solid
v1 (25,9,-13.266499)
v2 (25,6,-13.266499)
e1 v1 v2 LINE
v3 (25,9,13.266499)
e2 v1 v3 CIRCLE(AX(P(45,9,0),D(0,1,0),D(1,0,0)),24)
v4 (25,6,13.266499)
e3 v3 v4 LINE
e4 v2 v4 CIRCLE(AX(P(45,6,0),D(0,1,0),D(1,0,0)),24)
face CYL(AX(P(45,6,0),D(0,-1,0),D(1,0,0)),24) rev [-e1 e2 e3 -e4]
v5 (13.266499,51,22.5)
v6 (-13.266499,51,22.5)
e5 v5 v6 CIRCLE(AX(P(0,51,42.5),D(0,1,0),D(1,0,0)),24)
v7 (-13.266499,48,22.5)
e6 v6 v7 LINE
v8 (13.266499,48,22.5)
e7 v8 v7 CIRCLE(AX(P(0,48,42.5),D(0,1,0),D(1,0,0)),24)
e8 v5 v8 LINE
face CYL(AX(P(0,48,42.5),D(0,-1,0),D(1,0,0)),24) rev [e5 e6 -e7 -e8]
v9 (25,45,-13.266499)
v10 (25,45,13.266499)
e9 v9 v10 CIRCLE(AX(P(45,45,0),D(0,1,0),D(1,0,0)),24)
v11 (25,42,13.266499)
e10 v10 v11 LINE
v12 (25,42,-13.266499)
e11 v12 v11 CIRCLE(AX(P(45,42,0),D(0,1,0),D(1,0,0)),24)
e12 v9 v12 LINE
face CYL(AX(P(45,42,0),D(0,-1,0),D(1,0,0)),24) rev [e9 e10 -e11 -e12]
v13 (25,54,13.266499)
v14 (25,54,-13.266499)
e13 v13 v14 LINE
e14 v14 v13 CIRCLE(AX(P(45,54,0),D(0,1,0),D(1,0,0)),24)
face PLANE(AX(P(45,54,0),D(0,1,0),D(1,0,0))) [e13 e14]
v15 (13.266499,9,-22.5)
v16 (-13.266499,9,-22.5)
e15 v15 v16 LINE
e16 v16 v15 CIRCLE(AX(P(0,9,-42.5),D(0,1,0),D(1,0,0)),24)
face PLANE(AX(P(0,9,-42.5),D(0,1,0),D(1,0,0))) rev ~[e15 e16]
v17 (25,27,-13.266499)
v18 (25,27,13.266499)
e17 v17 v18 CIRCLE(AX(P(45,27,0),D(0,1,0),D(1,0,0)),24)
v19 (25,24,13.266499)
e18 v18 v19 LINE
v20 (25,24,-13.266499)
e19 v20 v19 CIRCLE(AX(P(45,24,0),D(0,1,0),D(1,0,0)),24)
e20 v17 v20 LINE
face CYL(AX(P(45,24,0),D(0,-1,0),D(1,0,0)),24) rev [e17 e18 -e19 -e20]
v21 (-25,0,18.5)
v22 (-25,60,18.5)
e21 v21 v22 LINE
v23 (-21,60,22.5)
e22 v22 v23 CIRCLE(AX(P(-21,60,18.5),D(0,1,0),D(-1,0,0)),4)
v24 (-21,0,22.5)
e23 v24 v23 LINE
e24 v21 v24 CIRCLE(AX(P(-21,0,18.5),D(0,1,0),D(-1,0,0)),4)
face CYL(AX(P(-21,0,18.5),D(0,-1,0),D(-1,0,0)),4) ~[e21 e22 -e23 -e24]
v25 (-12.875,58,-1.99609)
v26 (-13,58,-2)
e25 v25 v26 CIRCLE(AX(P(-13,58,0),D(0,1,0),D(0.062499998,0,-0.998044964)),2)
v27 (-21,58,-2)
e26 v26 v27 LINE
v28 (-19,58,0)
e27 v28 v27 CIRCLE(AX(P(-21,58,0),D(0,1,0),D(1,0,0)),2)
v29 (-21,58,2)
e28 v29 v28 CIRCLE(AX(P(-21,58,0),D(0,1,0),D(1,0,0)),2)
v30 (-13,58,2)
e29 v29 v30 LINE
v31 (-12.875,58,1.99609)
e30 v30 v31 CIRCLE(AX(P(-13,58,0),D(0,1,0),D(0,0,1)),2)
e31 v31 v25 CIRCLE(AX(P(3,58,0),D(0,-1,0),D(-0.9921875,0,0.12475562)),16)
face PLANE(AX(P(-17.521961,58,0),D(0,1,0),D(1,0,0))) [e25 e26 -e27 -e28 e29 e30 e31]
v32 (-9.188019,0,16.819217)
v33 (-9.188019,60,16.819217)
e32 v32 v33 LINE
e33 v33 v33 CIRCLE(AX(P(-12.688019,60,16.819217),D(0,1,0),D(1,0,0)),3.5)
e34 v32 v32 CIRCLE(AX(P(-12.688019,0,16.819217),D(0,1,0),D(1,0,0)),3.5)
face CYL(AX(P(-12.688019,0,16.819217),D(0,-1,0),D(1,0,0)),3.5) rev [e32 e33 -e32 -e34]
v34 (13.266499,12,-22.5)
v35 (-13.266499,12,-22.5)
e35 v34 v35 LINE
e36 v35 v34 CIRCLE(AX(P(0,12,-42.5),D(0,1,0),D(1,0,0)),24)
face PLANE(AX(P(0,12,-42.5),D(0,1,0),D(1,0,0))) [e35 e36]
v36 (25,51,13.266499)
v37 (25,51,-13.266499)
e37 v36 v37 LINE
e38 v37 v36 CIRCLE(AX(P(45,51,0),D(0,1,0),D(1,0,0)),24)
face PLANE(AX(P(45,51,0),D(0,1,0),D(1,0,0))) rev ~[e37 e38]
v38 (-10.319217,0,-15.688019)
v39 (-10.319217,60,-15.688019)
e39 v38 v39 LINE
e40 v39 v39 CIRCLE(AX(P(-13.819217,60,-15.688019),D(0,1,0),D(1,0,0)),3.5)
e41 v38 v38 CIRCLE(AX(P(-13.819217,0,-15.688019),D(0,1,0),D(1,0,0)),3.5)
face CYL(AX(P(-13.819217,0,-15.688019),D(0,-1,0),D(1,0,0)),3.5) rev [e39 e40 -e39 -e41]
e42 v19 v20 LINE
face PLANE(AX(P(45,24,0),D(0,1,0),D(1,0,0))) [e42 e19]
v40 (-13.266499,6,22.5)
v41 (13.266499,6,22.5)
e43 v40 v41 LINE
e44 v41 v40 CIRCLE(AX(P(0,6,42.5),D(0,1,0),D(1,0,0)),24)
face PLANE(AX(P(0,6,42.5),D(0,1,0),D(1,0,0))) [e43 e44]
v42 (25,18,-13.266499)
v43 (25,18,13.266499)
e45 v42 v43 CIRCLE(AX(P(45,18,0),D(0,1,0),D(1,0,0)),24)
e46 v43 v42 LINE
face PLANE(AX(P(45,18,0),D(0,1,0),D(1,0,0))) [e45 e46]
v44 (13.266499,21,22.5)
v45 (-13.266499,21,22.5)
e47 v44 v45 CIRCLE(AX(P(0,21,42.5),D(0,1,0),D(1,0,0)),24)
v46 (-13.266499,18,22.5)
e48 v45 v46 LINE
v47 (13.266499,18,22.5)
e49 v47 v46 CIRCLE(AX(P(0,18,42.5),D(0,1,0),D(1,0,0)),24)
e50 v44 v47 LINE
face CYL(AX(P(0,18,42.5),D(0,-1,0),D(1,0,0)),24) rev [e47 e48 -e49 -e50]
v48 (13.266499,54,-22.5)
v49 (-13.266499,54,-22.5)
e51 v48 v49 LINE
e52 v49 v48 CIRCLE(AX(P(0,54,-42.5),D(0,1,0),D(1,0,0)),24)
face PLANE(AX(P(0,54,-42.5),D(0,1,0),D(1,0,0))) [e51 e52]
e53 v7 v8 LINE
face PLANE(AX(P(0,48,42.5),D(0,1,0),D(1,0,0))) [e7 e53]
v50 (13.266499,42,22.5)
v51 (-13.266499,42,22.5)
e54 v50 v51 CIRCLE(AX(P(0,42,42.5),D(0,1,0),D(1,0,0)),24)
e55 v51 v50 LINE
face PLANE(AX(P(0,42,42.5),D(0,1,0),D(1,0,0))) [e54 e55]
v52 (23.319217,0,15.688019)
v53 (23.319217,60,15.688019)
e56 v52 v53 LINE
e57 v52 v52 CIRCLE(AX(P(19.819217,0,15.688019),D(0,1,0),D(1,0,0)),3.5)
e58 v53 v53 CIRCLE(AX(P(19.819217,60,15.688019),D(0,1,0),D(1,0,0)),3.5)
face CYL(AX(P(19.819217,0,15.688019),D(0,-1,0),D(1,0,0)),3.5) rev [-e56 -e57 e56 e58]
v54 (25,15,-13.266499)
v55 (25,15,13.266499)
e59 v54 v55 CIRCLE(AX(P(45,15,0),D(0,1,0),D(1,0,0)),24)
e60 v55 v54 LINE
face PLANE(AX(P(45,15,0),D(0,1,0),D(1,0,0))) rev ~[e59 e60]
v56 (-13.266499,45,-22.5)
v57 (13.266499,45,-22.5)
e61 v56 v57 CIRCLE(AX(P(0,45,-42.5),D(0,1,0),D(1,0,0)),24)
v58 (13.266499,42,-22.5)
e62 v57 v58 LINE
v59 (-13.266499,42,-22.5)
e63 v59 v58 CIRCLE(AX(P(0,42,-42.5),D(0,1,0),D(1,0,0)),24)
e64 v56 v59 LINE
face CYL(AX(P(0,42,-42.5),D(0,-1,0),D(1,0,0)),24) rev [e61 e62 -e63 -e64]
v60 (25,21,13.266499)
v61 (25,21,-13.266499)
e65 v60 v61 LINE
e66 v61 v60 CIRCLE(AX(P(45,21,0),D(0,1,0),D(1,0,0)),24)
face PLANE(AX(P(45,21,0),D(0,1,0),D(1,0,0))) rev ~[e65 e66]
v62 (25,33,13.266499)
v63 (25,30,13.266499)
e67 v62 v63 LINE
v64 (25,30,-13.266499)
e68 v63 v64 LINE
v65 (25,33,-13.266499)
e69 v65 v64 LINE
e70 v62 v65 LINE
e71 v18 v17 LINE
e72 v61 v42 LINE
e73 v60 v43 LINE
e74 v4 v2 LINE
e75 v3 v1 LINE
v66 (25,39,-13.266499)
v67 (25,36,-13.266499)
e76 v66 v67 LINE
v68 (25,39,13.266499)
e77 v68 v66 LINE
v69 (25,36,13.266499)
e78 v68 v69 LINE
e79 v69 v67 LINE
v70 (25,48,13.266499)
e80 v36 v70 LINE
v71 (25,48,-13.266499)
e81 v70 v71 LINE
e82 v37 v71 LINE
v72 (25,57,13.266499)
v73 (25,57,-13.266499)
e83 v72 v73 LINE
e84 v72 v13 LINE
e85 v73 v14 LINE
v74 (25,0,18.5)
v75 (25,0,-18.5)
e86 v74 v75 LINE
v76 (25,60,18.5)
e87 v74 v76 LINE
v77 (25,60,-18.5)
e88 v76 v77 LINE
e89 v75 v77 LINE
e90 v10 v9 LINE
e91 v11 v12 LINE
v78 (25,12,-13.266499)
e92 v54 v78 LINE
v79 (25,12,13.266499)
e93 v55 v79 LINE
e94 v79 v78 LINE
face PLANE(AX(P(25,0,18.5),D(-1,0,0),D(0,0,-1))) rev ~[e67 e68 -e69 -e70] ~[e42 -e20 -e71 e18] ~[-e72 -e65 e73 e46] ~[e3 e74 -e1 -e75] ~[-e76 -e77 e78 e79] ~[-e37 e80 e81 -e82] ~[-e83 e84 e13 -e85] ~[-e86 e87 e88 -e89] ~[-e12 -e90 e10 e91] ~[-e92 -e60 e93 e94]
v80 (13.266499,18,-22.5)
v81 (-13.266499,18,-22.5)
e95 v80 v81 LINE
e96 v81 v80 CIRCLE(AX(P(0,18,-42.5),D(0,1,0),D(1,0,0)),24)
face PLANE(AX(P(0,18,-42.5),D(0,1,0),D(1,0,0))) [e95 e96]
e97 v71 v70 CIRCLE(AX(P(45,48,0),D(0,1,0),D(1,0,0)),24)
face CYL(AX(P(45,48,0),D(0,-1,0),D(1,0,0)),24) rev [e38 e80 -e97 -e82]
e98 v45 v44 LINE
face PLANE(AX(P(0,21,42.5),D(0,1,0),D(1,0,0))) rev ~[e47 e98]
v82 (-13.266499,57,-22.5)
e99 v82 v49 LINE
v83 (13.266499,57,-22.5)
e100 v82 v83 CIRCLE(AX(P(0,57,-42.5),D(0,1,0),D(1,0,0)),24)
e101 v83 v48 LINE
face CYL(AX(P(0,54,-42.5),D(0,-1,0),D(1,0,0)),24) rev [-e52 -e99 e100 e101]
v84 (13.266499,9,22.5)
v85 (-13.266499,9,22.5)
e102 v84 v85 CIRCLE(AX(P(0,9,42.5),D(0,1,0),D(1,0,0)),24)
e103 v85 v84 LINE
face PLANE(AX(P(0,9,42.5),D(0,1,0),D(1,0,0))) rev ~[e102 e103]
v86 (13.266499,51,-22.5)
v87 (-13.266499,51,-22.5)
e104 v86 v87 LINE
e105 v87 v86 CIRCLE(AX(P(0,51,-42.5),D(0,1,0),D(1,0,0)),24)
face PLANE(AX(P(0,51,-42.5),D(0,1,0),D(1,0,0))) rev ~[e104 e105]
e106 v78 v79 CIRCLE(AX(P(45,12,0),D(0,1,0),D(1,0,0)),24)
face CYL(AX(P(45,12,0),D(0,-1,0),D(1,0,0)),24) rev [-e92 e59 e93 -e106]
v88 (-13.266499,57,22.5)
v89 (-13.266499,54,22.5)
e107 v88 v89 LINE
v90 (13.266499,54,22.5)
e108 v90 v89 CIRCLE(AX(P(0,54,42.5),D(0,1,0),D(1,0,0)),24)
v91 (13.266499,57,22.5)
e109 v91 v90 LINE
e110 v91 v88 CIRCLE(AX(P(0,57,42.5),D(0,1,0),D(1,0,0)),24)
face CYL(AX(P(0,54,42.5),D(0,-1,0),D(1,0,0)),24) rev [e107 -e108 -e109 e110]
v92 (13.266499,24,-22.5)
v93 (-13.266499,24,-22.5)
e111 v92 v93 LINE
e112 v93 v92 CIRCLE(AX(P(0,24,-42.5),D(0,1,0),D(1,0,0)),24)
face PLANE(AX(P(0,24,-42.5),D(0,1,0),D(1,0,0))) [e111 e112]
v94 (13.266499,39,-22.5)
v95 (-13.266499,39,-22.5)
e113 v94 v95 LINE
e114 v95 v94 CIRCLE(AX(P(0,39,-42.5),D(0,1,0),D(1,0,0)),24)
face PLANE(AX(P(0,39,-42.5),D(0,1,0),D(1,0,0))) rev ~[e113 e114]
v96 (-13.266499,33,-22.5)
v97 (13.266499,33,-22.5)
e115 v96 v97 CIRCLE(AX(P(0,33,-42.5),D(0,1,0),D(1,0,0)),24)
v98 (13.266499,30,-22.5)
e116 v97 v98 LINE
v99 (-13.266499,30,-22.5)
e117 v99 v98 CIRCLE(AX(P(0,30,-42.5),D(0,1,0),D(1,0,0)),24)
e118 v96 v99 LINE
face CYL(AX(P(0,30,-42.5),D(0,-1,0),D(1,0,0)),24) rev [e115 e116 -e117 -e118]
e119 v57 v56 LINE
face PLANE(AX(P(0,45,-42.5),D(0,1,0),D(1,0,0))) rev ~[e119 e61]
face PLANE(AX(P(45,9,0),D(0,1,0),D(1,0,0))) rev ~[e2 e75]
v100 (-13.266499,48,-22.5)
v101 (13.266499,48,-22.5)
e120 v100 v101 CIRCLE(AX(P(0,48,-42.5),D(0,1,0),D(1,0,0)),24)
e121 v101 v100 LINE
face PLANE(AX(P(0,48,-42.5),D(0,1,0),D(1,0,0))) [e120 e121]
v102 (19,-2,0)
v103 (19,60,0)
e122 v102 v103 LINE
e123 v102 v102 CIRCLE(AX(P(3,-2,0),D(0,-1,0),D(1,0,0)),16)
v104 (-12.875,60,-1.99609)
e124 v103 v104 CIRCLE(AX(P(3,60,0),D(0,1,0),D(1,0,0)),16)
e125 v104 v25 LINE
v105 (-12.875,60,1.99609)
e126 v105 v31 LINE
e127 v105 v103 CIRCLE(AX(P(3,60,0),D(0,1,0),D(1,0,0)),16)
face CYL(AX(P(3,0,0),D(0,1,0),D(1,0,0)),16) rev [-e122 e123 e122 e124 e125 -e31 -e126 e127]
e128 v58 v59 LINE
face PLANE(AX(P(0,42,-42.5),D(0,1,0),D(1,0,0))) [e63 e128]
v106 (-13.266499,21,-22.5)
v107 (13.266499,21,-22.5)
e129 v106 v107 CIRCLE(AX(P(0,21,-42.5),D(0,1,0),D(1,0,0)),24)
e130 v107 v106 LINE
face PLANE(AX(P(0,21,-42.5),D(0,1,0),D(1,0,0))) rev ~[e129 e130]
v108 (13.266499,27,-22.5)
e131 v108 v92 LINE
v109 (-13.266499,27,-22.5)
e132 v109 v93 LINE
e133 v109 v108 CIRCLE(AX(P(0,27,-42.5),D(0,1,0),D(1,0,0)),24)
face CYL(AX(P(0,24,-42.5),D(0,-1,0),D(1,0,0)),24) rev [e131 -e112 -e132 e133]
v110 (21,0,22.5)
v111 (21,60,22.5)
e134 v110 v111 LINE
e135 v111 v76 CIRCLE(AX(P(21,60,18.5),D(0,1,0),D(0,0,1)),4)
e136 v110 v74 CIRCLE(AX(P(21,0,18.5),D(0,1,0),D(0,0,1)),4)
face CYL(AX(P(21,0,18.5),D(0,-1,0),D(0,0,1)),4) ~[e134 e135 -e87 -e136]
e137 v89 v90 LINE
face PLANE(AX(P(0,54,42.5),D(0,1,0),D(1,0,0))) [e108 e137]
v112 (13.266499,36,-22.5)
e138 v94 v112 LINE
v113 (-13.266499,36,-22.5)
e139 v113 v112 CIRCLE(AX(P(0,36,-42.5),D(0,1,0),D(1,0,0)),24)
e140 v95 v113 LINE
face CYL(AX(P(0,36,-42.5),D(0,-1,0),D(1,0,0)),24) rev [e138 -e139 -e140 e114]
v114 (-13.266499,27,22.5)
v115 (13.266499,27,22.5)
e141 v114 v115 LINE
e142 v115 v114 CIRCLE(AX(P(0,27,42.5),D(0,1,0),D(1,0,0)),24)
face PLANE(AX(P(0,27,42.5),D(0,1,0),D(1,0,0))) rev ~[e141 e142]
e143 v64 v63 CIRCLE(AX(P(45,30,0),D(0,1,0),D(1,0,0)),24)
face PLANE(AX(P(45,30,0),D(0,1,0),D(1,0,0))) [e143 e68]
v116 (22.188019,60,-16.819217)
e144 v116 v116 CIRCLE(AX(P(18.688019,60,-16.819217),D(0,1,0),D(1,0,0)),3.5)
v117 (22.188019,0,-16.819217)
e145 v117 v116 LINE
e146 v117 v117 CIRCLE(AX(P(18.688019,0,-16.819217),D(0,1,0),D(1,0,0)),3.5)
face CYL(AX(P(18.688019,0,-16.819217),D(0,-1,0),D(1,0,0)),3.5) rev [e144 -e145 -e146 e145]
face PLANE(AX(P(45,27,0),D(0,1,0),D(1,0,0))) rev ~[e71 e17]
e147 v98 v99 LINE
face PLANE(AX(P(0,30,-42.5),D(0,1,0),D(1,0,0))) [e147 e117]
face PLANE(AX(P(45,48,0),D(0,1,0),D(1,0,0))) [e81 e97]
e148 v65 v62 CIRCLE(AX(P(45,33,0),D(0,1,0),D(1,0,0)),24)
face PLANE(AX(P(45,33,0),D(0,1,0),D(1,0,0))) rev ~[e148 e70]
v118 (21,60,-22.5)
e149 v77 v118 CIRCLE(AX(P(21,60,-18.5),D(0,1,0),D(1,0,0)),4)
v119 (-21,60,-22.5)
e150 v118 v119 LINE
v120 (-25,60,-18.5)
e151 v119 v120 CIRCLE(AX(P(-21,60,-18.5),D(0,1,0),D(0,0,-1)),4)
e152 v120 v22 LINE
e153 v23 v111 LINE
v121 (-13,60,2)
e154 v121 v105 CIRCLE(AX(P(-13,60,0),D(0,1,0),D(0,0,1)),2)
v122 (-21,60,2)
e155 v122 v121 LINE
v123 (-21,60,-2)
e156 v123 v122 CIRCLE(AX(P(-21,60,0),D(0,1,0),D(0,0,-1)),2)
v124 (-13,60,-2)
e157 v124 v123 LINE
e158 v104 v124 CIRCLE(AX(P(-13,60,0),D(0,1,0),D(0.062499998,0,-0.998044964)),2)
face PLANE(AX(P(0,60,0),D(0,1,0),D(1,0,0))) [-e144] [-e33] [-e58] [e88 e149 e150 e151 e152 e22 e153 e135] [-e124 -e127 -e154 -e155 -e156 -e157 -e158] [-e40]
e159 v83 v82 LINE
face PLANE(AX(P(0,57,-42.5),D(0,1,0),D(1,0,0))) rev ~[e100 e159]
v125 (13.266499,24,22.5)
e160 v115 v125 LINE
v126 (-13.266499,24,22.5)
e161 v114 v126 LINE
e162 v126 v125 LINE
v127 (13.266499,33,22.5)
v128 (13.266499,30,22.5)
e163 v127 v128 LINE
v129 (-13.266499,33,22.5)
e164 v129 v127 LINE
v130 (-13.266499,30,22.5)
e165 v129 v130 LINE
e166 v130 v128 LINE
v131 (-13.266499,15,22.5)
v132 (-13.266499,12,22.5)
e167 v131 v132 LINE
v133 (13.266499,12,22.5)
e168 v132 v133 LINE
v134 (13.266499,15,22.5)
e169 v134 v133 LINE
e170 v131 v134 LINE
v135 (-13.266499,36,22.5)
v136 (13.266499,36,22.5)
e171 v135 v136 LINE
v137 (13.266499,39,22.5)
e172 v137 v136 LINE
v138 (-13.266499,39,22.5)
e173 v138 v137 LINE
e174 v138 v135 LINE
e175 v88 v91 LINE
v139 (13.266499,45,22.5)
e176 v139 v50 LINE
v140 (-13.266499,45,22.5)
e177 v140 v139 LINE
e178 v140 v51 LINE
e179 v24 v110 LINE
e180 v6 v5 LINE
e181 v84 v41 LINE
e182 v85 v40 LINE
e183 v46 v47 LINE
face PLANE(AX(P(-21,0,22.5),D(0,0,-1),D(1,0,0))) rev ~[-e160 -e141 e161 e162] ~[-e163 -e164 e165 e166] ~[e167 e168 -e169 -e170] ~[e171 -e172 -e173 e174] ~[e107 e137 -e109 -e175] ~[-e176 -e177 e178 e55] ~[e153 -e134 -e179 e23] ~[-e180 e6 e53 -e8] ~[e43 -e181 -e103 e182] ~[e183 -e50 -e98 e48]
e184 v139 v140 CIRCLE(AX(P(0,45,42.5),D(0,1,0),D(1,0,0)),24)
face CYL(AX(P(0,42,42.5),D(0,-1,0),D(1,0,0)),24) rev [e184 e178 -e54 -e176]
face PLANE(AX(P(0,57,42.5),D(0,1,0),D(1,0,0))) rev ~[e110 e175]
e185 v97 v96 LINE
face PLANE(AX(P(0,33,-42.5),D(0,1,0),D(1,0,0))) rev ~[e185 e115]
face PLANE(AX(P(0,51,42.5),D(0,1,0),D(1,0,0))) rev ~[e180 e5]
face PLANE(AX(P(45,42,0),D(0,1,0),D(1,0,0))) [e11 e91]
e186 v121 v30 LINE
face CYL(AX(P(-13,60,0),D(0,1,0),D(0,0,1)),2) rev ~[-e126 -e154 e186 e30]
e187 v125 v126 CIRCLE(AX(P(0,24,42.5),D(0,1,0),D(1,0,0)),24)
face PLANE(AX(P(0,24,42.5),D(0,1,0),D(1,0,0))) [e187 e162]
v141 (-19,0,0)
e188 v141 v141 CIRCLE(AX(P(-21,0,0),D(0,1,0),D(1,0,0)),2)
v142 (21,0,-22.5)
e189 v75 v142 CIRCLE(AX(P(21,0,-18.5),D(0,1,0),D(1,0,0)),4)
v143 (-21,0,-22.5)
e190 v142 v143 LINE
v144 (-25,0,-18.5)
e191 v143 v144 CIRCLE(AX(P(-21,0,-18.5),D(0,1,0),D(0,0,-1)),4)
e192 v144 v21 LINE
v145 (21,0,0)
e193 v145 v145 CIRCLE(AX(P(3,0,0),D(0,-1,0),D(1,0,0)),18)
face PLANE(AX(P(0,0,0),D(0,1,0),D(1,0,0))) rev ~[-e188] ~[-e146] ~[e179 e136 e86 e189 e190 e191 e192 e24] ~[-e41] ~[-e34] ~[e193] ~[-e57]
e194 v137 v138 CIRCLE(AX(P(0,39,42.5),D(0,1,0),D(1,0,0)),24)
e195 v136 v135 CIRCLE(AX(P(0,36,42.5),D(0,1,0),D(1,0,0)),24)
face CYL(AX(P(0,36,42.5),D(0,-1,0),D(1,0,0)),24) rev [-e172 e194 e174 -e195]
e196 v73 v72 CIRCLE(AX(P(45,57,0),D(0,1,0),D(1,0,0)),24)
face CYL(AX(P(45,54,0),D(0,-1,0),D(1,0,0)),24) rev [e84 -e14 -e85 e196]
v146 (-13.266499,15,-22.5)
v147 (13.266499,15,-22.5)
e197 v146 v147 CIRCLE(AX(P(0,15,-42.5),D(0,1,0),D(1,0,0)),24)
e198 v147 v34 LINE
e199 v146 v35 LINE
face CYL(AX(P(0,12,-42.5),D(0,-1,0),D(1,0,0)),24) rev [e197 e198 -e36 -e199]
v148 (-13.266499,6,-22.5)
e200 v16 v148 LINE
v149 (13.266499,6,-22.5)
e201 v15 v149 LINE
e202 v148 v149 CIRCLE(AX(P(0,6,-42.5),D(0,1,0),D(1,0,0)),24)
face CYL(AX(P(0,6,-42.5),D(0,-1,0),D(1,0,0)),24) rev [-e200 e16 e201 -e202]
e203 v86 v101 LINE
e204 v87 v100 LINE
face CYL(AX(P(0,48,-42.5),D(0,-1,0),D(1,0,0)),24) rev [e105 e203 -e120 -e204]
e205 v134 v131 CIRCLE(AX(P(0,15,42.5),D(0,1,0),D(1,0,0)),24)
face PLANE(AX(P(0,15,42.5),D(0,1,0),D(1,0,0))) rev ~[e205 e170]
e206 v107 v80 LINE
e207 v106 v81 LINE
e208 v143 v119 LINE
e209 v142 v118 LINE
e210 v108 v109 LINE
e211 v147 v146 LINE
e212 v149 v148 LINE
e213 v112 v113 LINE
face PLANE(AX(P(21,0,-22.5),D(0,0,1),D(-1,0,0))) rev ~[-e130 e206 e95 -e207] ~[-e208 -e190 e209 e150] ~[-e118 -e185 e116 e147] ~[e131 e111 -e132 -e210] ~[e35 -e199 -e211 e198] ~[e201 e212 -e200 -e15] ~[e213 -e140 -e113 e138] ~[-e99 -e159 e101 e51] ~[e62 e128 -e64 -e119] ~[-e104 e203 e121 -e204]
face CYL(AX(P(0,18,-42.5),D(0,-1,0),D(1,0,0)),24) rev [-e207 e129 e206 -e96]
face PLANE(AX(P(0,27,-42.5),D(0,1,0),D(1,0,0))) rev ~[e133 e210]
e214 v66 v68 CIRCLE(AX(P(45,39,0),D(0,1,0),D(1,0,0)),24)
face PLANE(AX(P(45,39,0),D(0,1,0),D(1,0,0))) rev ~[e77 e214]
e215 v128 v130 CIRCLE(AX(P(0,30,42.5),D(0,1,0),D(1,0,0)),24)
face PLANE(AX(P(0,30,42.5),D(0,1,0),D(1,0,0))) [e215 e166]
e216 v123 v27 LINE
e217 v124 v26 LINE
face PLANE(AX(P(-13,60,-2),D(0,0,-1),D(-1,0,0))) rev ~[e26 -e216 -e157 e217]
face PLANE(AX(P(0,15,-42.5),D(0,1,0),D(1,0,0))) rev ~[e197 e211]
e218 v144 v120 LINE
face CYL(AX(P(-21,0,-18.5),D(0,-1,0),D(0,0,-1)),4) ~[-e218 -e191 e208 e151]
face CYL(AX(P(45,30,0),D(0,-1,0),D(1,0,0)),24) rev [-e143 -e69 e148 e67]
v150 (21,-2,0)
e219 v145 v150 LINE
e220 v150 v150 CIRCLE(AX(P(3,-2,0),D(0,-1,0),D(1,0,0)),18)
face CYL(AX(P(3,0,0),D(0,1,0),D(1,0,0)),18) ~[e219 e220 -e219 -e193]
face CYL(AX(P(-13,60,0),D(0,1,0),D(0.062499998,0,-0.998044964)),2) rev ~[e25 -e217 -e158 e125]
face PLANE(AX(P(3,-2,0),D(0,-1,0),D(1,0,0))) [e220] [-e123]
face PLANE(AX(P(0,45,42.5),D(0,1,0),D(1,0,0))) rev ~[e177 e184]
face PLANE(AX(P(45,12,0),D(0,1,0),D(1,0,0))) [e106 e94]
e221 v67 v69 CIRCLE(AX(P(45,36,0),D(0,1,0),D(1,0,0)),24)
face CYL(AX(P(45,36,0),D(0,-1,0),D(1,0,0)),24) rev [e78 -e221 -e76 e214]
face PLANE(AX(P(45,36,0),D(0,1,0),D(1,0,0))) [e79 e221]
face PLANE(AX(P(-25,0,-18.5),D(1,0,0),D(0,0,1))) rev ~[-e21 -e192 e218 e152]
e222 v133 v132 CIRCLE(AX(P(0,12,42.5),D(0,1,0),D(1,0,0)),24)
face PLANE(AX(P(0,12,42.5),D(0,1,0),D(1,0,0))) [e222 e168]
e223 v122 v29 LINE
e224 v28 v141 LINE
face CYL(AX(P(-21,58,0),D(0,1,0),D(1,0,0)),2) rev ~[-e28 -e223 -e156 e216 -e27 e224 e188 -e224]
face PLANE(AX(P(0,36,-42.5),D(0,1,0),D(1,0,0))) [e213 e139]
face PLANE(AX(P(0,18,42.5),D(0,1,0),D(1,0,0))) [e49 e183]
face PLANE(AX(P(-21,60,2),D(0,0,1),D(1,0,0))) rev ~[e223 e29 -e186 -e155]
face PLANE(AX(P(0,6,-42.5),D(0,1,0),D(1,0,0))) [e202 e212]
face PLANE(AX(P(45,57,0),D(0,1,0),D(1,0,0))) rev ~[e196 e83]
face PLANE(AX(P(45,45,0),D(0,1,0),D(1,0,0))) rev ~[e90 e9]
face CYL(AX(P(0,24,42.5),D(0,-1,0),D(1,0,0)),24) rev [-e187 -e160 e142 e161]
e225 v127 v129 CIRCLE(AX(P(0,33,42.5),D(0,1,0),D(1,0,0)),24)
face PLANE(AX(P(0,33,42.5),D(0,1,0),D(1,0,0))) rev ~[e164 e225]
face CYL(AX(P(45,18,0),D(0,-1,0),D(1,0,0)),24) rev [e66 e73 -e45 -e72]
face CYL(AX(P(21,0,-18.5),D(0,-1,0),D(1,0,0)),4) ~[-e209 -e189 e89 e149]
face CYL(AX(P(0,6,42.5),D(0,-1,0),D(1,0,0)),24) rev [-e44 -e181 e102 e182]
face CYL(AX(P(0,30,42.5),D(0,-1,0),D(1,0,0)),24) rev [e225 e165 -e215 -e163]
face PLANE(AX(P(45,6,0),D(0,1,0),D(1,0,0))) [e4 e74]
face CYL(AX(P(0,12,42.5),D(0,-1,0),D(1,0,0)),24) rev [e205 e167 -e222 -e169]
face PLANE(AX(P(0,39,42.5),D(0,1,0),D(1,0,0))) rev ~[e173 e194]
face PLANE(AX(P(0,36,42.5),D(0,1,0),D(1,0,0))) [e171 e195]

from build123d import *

# Parameters (mm, degrees)
SKETCH1_R               = 3.5
SKETCH1_R_2             = 16
BOSS_EXTRUDE2_DEPTH     = 60
CUT_EXTRUDE6_DEPTH      = 1
CUT_EXTRUDE6_DEPTH_BACK = 2
SKETCH7_R               = 2
CUT_EXTRUDE7_DEPTH      = 59
SKETCH8_R               = 18
SKETCH8_R_2             = 16
BOSS_EXTRUDE3_DEPTH     = 2
CUT_EXTRUDE8_START      = 6
SKETCH9_R               = 24
CUT_EXTRUDE8_DEPTH      = 3
LPATTERN1_COUNT         = 9
LPATTERN1_PITCH         = 6


with BuildPart() as part:
    # Sketch1 → Boss-Extrude2 (new body)
    with BuildSketch(Plane(origin=(0, 0, 0), x_dir=(1, 0, 0), z_dir=(0, 1, 0))):
        with BuildLine():
            Line((-21, -22.5), (21, -22.5))
            ThreePointArc((21, -22.5), (23.828427125, -21.328427125), (25, -18.5))
            Line((25, -18.5), (25, 18.5))
            ThreePointArc((25, 18.5), (23.828427125, 21.328427125), (21, 22.5))
            Line((21, 22.5), (-21, 22.5))
            ThreePointArc((-21, 22.5), (-23.828427125, 21.328427125), (-25, 18.5))
            Line((-25, 18.5), (-25, -18.5))
            ThreePointArc((-25, -18.5), (-23.828427125, -21.328427125), (-21, -22.5))
        make_face()
        with Locations((18.688018935, 16.819217042)):
            Circle(SKETCH1_R, mode=Mode.SUBTRACT)
        with Locations((19.819217042, -15.688018935)):
            Circle(SKETCH1_R, mode=Mode.SUBTRACT)
        with Locations((-12.688018935, -16.819217042)):
            Circle(SKETCH1_R, mode=Mode.SUBTRACT)
        with Locations((-13.819217042, 15.688018935)):
            Circle(SKETCH1_R, mode=Mode.SUBTRACT)
        with Locations((3, 0)):
            Circle(SKETCH1_R_2, mode=Mode.SUBTRACT)
    extrude(amount=BOSS_EXTRUDE2_DEPTH)

    # Sketch6 → Cut-Extrude6 (cut, two sides)
    with BuildSketch(Plane(origin=(0, 60, 0), x_dir=(1, 0, 0), z_dir=(0, 1, 0))) as cut_extrude6_sk:
        with BuildLine():
            Line((-13, 2), (-21, 2))
            ThreePointArc((-21, 2), (-23, 0), (-21, -2))
            Line((-21, -2), (-13, -2))
            ThreePointArc((-13, -2), (-12.93746943, -1.999022243), (-12.875, -1.996089928))
            ThreePointArc((-12.875, -1.996089928), (-13, 0), (-12.875, 1.996089928))
            ThreePointArc((-12.875, 1.996089928), (-12.93746943, 1.999022243), (-13, 2))
        make_face()
    extrude(amount=CUT_EXTRUDE6_DEPTH, mode=Mode.SUBTRACT)
    extrude(cut_extrude6_sk.sketch, amount=-CUT_EXTRUDE6_DEPTH_BACK, mode=Mode.SUBTRACT)

    # Sketch7 → Cut-Extrude7 (cut, through all)
    with BuildSketch(Plane(origin=(0, 58, 0), x_dir=(1, 0, 0), z_dir=(0, 1, 0))):
        with Locations((-21, 0)):
            Circle(SKETCH7_R)
    extrude(amount=-CUT_EXTRUDE7_DEPTH, mode=Mode.SUBTRACT)

    # Sketch8 → Boss-Extrude3 (add)
    with BuildSketch(Plane.XZ):
        with Locations((3, 0)):
            Circle(SKETCH8_R)
        with Locations((3, 0)):
            Circle(SKETCH8_R_2, mode=Mode.SUBTRACT)
    extrude(amount=BOSS_EXTRUDE3_DEPTH)

    # Sketch9 → Cut-Extrude8 (cut)
    with BuildSketch(Plane(origin=(0, 0, 0), x_dir=(1, 0, 0), z_dir=(0, 1, 0)).offset(CUT_EXTRUDE8_START)):
        with Locations((45, 0)):
            Circle(SKETCH9_R)
        with Locations((0, 42.5)):
            Circle(SKETCH9_R)
        with Locations((0, -42.5)):
            Circle(SKETCH9_R)
    cut_extrude8 = extrude(amount=CUT_EXTRUDE8_DEPTH, mode=Mode.SUBTRACT)

    # LPattern1: Cut-Extrude8 ×9
    with Locations(*[(0, i * LPATTERN1_PITCH, 0) for i in range(1, LPATTERN1_COUNT)]):
        add(cut_extrude8, mode=Mode.SUBTRACT)


solid = part.part
